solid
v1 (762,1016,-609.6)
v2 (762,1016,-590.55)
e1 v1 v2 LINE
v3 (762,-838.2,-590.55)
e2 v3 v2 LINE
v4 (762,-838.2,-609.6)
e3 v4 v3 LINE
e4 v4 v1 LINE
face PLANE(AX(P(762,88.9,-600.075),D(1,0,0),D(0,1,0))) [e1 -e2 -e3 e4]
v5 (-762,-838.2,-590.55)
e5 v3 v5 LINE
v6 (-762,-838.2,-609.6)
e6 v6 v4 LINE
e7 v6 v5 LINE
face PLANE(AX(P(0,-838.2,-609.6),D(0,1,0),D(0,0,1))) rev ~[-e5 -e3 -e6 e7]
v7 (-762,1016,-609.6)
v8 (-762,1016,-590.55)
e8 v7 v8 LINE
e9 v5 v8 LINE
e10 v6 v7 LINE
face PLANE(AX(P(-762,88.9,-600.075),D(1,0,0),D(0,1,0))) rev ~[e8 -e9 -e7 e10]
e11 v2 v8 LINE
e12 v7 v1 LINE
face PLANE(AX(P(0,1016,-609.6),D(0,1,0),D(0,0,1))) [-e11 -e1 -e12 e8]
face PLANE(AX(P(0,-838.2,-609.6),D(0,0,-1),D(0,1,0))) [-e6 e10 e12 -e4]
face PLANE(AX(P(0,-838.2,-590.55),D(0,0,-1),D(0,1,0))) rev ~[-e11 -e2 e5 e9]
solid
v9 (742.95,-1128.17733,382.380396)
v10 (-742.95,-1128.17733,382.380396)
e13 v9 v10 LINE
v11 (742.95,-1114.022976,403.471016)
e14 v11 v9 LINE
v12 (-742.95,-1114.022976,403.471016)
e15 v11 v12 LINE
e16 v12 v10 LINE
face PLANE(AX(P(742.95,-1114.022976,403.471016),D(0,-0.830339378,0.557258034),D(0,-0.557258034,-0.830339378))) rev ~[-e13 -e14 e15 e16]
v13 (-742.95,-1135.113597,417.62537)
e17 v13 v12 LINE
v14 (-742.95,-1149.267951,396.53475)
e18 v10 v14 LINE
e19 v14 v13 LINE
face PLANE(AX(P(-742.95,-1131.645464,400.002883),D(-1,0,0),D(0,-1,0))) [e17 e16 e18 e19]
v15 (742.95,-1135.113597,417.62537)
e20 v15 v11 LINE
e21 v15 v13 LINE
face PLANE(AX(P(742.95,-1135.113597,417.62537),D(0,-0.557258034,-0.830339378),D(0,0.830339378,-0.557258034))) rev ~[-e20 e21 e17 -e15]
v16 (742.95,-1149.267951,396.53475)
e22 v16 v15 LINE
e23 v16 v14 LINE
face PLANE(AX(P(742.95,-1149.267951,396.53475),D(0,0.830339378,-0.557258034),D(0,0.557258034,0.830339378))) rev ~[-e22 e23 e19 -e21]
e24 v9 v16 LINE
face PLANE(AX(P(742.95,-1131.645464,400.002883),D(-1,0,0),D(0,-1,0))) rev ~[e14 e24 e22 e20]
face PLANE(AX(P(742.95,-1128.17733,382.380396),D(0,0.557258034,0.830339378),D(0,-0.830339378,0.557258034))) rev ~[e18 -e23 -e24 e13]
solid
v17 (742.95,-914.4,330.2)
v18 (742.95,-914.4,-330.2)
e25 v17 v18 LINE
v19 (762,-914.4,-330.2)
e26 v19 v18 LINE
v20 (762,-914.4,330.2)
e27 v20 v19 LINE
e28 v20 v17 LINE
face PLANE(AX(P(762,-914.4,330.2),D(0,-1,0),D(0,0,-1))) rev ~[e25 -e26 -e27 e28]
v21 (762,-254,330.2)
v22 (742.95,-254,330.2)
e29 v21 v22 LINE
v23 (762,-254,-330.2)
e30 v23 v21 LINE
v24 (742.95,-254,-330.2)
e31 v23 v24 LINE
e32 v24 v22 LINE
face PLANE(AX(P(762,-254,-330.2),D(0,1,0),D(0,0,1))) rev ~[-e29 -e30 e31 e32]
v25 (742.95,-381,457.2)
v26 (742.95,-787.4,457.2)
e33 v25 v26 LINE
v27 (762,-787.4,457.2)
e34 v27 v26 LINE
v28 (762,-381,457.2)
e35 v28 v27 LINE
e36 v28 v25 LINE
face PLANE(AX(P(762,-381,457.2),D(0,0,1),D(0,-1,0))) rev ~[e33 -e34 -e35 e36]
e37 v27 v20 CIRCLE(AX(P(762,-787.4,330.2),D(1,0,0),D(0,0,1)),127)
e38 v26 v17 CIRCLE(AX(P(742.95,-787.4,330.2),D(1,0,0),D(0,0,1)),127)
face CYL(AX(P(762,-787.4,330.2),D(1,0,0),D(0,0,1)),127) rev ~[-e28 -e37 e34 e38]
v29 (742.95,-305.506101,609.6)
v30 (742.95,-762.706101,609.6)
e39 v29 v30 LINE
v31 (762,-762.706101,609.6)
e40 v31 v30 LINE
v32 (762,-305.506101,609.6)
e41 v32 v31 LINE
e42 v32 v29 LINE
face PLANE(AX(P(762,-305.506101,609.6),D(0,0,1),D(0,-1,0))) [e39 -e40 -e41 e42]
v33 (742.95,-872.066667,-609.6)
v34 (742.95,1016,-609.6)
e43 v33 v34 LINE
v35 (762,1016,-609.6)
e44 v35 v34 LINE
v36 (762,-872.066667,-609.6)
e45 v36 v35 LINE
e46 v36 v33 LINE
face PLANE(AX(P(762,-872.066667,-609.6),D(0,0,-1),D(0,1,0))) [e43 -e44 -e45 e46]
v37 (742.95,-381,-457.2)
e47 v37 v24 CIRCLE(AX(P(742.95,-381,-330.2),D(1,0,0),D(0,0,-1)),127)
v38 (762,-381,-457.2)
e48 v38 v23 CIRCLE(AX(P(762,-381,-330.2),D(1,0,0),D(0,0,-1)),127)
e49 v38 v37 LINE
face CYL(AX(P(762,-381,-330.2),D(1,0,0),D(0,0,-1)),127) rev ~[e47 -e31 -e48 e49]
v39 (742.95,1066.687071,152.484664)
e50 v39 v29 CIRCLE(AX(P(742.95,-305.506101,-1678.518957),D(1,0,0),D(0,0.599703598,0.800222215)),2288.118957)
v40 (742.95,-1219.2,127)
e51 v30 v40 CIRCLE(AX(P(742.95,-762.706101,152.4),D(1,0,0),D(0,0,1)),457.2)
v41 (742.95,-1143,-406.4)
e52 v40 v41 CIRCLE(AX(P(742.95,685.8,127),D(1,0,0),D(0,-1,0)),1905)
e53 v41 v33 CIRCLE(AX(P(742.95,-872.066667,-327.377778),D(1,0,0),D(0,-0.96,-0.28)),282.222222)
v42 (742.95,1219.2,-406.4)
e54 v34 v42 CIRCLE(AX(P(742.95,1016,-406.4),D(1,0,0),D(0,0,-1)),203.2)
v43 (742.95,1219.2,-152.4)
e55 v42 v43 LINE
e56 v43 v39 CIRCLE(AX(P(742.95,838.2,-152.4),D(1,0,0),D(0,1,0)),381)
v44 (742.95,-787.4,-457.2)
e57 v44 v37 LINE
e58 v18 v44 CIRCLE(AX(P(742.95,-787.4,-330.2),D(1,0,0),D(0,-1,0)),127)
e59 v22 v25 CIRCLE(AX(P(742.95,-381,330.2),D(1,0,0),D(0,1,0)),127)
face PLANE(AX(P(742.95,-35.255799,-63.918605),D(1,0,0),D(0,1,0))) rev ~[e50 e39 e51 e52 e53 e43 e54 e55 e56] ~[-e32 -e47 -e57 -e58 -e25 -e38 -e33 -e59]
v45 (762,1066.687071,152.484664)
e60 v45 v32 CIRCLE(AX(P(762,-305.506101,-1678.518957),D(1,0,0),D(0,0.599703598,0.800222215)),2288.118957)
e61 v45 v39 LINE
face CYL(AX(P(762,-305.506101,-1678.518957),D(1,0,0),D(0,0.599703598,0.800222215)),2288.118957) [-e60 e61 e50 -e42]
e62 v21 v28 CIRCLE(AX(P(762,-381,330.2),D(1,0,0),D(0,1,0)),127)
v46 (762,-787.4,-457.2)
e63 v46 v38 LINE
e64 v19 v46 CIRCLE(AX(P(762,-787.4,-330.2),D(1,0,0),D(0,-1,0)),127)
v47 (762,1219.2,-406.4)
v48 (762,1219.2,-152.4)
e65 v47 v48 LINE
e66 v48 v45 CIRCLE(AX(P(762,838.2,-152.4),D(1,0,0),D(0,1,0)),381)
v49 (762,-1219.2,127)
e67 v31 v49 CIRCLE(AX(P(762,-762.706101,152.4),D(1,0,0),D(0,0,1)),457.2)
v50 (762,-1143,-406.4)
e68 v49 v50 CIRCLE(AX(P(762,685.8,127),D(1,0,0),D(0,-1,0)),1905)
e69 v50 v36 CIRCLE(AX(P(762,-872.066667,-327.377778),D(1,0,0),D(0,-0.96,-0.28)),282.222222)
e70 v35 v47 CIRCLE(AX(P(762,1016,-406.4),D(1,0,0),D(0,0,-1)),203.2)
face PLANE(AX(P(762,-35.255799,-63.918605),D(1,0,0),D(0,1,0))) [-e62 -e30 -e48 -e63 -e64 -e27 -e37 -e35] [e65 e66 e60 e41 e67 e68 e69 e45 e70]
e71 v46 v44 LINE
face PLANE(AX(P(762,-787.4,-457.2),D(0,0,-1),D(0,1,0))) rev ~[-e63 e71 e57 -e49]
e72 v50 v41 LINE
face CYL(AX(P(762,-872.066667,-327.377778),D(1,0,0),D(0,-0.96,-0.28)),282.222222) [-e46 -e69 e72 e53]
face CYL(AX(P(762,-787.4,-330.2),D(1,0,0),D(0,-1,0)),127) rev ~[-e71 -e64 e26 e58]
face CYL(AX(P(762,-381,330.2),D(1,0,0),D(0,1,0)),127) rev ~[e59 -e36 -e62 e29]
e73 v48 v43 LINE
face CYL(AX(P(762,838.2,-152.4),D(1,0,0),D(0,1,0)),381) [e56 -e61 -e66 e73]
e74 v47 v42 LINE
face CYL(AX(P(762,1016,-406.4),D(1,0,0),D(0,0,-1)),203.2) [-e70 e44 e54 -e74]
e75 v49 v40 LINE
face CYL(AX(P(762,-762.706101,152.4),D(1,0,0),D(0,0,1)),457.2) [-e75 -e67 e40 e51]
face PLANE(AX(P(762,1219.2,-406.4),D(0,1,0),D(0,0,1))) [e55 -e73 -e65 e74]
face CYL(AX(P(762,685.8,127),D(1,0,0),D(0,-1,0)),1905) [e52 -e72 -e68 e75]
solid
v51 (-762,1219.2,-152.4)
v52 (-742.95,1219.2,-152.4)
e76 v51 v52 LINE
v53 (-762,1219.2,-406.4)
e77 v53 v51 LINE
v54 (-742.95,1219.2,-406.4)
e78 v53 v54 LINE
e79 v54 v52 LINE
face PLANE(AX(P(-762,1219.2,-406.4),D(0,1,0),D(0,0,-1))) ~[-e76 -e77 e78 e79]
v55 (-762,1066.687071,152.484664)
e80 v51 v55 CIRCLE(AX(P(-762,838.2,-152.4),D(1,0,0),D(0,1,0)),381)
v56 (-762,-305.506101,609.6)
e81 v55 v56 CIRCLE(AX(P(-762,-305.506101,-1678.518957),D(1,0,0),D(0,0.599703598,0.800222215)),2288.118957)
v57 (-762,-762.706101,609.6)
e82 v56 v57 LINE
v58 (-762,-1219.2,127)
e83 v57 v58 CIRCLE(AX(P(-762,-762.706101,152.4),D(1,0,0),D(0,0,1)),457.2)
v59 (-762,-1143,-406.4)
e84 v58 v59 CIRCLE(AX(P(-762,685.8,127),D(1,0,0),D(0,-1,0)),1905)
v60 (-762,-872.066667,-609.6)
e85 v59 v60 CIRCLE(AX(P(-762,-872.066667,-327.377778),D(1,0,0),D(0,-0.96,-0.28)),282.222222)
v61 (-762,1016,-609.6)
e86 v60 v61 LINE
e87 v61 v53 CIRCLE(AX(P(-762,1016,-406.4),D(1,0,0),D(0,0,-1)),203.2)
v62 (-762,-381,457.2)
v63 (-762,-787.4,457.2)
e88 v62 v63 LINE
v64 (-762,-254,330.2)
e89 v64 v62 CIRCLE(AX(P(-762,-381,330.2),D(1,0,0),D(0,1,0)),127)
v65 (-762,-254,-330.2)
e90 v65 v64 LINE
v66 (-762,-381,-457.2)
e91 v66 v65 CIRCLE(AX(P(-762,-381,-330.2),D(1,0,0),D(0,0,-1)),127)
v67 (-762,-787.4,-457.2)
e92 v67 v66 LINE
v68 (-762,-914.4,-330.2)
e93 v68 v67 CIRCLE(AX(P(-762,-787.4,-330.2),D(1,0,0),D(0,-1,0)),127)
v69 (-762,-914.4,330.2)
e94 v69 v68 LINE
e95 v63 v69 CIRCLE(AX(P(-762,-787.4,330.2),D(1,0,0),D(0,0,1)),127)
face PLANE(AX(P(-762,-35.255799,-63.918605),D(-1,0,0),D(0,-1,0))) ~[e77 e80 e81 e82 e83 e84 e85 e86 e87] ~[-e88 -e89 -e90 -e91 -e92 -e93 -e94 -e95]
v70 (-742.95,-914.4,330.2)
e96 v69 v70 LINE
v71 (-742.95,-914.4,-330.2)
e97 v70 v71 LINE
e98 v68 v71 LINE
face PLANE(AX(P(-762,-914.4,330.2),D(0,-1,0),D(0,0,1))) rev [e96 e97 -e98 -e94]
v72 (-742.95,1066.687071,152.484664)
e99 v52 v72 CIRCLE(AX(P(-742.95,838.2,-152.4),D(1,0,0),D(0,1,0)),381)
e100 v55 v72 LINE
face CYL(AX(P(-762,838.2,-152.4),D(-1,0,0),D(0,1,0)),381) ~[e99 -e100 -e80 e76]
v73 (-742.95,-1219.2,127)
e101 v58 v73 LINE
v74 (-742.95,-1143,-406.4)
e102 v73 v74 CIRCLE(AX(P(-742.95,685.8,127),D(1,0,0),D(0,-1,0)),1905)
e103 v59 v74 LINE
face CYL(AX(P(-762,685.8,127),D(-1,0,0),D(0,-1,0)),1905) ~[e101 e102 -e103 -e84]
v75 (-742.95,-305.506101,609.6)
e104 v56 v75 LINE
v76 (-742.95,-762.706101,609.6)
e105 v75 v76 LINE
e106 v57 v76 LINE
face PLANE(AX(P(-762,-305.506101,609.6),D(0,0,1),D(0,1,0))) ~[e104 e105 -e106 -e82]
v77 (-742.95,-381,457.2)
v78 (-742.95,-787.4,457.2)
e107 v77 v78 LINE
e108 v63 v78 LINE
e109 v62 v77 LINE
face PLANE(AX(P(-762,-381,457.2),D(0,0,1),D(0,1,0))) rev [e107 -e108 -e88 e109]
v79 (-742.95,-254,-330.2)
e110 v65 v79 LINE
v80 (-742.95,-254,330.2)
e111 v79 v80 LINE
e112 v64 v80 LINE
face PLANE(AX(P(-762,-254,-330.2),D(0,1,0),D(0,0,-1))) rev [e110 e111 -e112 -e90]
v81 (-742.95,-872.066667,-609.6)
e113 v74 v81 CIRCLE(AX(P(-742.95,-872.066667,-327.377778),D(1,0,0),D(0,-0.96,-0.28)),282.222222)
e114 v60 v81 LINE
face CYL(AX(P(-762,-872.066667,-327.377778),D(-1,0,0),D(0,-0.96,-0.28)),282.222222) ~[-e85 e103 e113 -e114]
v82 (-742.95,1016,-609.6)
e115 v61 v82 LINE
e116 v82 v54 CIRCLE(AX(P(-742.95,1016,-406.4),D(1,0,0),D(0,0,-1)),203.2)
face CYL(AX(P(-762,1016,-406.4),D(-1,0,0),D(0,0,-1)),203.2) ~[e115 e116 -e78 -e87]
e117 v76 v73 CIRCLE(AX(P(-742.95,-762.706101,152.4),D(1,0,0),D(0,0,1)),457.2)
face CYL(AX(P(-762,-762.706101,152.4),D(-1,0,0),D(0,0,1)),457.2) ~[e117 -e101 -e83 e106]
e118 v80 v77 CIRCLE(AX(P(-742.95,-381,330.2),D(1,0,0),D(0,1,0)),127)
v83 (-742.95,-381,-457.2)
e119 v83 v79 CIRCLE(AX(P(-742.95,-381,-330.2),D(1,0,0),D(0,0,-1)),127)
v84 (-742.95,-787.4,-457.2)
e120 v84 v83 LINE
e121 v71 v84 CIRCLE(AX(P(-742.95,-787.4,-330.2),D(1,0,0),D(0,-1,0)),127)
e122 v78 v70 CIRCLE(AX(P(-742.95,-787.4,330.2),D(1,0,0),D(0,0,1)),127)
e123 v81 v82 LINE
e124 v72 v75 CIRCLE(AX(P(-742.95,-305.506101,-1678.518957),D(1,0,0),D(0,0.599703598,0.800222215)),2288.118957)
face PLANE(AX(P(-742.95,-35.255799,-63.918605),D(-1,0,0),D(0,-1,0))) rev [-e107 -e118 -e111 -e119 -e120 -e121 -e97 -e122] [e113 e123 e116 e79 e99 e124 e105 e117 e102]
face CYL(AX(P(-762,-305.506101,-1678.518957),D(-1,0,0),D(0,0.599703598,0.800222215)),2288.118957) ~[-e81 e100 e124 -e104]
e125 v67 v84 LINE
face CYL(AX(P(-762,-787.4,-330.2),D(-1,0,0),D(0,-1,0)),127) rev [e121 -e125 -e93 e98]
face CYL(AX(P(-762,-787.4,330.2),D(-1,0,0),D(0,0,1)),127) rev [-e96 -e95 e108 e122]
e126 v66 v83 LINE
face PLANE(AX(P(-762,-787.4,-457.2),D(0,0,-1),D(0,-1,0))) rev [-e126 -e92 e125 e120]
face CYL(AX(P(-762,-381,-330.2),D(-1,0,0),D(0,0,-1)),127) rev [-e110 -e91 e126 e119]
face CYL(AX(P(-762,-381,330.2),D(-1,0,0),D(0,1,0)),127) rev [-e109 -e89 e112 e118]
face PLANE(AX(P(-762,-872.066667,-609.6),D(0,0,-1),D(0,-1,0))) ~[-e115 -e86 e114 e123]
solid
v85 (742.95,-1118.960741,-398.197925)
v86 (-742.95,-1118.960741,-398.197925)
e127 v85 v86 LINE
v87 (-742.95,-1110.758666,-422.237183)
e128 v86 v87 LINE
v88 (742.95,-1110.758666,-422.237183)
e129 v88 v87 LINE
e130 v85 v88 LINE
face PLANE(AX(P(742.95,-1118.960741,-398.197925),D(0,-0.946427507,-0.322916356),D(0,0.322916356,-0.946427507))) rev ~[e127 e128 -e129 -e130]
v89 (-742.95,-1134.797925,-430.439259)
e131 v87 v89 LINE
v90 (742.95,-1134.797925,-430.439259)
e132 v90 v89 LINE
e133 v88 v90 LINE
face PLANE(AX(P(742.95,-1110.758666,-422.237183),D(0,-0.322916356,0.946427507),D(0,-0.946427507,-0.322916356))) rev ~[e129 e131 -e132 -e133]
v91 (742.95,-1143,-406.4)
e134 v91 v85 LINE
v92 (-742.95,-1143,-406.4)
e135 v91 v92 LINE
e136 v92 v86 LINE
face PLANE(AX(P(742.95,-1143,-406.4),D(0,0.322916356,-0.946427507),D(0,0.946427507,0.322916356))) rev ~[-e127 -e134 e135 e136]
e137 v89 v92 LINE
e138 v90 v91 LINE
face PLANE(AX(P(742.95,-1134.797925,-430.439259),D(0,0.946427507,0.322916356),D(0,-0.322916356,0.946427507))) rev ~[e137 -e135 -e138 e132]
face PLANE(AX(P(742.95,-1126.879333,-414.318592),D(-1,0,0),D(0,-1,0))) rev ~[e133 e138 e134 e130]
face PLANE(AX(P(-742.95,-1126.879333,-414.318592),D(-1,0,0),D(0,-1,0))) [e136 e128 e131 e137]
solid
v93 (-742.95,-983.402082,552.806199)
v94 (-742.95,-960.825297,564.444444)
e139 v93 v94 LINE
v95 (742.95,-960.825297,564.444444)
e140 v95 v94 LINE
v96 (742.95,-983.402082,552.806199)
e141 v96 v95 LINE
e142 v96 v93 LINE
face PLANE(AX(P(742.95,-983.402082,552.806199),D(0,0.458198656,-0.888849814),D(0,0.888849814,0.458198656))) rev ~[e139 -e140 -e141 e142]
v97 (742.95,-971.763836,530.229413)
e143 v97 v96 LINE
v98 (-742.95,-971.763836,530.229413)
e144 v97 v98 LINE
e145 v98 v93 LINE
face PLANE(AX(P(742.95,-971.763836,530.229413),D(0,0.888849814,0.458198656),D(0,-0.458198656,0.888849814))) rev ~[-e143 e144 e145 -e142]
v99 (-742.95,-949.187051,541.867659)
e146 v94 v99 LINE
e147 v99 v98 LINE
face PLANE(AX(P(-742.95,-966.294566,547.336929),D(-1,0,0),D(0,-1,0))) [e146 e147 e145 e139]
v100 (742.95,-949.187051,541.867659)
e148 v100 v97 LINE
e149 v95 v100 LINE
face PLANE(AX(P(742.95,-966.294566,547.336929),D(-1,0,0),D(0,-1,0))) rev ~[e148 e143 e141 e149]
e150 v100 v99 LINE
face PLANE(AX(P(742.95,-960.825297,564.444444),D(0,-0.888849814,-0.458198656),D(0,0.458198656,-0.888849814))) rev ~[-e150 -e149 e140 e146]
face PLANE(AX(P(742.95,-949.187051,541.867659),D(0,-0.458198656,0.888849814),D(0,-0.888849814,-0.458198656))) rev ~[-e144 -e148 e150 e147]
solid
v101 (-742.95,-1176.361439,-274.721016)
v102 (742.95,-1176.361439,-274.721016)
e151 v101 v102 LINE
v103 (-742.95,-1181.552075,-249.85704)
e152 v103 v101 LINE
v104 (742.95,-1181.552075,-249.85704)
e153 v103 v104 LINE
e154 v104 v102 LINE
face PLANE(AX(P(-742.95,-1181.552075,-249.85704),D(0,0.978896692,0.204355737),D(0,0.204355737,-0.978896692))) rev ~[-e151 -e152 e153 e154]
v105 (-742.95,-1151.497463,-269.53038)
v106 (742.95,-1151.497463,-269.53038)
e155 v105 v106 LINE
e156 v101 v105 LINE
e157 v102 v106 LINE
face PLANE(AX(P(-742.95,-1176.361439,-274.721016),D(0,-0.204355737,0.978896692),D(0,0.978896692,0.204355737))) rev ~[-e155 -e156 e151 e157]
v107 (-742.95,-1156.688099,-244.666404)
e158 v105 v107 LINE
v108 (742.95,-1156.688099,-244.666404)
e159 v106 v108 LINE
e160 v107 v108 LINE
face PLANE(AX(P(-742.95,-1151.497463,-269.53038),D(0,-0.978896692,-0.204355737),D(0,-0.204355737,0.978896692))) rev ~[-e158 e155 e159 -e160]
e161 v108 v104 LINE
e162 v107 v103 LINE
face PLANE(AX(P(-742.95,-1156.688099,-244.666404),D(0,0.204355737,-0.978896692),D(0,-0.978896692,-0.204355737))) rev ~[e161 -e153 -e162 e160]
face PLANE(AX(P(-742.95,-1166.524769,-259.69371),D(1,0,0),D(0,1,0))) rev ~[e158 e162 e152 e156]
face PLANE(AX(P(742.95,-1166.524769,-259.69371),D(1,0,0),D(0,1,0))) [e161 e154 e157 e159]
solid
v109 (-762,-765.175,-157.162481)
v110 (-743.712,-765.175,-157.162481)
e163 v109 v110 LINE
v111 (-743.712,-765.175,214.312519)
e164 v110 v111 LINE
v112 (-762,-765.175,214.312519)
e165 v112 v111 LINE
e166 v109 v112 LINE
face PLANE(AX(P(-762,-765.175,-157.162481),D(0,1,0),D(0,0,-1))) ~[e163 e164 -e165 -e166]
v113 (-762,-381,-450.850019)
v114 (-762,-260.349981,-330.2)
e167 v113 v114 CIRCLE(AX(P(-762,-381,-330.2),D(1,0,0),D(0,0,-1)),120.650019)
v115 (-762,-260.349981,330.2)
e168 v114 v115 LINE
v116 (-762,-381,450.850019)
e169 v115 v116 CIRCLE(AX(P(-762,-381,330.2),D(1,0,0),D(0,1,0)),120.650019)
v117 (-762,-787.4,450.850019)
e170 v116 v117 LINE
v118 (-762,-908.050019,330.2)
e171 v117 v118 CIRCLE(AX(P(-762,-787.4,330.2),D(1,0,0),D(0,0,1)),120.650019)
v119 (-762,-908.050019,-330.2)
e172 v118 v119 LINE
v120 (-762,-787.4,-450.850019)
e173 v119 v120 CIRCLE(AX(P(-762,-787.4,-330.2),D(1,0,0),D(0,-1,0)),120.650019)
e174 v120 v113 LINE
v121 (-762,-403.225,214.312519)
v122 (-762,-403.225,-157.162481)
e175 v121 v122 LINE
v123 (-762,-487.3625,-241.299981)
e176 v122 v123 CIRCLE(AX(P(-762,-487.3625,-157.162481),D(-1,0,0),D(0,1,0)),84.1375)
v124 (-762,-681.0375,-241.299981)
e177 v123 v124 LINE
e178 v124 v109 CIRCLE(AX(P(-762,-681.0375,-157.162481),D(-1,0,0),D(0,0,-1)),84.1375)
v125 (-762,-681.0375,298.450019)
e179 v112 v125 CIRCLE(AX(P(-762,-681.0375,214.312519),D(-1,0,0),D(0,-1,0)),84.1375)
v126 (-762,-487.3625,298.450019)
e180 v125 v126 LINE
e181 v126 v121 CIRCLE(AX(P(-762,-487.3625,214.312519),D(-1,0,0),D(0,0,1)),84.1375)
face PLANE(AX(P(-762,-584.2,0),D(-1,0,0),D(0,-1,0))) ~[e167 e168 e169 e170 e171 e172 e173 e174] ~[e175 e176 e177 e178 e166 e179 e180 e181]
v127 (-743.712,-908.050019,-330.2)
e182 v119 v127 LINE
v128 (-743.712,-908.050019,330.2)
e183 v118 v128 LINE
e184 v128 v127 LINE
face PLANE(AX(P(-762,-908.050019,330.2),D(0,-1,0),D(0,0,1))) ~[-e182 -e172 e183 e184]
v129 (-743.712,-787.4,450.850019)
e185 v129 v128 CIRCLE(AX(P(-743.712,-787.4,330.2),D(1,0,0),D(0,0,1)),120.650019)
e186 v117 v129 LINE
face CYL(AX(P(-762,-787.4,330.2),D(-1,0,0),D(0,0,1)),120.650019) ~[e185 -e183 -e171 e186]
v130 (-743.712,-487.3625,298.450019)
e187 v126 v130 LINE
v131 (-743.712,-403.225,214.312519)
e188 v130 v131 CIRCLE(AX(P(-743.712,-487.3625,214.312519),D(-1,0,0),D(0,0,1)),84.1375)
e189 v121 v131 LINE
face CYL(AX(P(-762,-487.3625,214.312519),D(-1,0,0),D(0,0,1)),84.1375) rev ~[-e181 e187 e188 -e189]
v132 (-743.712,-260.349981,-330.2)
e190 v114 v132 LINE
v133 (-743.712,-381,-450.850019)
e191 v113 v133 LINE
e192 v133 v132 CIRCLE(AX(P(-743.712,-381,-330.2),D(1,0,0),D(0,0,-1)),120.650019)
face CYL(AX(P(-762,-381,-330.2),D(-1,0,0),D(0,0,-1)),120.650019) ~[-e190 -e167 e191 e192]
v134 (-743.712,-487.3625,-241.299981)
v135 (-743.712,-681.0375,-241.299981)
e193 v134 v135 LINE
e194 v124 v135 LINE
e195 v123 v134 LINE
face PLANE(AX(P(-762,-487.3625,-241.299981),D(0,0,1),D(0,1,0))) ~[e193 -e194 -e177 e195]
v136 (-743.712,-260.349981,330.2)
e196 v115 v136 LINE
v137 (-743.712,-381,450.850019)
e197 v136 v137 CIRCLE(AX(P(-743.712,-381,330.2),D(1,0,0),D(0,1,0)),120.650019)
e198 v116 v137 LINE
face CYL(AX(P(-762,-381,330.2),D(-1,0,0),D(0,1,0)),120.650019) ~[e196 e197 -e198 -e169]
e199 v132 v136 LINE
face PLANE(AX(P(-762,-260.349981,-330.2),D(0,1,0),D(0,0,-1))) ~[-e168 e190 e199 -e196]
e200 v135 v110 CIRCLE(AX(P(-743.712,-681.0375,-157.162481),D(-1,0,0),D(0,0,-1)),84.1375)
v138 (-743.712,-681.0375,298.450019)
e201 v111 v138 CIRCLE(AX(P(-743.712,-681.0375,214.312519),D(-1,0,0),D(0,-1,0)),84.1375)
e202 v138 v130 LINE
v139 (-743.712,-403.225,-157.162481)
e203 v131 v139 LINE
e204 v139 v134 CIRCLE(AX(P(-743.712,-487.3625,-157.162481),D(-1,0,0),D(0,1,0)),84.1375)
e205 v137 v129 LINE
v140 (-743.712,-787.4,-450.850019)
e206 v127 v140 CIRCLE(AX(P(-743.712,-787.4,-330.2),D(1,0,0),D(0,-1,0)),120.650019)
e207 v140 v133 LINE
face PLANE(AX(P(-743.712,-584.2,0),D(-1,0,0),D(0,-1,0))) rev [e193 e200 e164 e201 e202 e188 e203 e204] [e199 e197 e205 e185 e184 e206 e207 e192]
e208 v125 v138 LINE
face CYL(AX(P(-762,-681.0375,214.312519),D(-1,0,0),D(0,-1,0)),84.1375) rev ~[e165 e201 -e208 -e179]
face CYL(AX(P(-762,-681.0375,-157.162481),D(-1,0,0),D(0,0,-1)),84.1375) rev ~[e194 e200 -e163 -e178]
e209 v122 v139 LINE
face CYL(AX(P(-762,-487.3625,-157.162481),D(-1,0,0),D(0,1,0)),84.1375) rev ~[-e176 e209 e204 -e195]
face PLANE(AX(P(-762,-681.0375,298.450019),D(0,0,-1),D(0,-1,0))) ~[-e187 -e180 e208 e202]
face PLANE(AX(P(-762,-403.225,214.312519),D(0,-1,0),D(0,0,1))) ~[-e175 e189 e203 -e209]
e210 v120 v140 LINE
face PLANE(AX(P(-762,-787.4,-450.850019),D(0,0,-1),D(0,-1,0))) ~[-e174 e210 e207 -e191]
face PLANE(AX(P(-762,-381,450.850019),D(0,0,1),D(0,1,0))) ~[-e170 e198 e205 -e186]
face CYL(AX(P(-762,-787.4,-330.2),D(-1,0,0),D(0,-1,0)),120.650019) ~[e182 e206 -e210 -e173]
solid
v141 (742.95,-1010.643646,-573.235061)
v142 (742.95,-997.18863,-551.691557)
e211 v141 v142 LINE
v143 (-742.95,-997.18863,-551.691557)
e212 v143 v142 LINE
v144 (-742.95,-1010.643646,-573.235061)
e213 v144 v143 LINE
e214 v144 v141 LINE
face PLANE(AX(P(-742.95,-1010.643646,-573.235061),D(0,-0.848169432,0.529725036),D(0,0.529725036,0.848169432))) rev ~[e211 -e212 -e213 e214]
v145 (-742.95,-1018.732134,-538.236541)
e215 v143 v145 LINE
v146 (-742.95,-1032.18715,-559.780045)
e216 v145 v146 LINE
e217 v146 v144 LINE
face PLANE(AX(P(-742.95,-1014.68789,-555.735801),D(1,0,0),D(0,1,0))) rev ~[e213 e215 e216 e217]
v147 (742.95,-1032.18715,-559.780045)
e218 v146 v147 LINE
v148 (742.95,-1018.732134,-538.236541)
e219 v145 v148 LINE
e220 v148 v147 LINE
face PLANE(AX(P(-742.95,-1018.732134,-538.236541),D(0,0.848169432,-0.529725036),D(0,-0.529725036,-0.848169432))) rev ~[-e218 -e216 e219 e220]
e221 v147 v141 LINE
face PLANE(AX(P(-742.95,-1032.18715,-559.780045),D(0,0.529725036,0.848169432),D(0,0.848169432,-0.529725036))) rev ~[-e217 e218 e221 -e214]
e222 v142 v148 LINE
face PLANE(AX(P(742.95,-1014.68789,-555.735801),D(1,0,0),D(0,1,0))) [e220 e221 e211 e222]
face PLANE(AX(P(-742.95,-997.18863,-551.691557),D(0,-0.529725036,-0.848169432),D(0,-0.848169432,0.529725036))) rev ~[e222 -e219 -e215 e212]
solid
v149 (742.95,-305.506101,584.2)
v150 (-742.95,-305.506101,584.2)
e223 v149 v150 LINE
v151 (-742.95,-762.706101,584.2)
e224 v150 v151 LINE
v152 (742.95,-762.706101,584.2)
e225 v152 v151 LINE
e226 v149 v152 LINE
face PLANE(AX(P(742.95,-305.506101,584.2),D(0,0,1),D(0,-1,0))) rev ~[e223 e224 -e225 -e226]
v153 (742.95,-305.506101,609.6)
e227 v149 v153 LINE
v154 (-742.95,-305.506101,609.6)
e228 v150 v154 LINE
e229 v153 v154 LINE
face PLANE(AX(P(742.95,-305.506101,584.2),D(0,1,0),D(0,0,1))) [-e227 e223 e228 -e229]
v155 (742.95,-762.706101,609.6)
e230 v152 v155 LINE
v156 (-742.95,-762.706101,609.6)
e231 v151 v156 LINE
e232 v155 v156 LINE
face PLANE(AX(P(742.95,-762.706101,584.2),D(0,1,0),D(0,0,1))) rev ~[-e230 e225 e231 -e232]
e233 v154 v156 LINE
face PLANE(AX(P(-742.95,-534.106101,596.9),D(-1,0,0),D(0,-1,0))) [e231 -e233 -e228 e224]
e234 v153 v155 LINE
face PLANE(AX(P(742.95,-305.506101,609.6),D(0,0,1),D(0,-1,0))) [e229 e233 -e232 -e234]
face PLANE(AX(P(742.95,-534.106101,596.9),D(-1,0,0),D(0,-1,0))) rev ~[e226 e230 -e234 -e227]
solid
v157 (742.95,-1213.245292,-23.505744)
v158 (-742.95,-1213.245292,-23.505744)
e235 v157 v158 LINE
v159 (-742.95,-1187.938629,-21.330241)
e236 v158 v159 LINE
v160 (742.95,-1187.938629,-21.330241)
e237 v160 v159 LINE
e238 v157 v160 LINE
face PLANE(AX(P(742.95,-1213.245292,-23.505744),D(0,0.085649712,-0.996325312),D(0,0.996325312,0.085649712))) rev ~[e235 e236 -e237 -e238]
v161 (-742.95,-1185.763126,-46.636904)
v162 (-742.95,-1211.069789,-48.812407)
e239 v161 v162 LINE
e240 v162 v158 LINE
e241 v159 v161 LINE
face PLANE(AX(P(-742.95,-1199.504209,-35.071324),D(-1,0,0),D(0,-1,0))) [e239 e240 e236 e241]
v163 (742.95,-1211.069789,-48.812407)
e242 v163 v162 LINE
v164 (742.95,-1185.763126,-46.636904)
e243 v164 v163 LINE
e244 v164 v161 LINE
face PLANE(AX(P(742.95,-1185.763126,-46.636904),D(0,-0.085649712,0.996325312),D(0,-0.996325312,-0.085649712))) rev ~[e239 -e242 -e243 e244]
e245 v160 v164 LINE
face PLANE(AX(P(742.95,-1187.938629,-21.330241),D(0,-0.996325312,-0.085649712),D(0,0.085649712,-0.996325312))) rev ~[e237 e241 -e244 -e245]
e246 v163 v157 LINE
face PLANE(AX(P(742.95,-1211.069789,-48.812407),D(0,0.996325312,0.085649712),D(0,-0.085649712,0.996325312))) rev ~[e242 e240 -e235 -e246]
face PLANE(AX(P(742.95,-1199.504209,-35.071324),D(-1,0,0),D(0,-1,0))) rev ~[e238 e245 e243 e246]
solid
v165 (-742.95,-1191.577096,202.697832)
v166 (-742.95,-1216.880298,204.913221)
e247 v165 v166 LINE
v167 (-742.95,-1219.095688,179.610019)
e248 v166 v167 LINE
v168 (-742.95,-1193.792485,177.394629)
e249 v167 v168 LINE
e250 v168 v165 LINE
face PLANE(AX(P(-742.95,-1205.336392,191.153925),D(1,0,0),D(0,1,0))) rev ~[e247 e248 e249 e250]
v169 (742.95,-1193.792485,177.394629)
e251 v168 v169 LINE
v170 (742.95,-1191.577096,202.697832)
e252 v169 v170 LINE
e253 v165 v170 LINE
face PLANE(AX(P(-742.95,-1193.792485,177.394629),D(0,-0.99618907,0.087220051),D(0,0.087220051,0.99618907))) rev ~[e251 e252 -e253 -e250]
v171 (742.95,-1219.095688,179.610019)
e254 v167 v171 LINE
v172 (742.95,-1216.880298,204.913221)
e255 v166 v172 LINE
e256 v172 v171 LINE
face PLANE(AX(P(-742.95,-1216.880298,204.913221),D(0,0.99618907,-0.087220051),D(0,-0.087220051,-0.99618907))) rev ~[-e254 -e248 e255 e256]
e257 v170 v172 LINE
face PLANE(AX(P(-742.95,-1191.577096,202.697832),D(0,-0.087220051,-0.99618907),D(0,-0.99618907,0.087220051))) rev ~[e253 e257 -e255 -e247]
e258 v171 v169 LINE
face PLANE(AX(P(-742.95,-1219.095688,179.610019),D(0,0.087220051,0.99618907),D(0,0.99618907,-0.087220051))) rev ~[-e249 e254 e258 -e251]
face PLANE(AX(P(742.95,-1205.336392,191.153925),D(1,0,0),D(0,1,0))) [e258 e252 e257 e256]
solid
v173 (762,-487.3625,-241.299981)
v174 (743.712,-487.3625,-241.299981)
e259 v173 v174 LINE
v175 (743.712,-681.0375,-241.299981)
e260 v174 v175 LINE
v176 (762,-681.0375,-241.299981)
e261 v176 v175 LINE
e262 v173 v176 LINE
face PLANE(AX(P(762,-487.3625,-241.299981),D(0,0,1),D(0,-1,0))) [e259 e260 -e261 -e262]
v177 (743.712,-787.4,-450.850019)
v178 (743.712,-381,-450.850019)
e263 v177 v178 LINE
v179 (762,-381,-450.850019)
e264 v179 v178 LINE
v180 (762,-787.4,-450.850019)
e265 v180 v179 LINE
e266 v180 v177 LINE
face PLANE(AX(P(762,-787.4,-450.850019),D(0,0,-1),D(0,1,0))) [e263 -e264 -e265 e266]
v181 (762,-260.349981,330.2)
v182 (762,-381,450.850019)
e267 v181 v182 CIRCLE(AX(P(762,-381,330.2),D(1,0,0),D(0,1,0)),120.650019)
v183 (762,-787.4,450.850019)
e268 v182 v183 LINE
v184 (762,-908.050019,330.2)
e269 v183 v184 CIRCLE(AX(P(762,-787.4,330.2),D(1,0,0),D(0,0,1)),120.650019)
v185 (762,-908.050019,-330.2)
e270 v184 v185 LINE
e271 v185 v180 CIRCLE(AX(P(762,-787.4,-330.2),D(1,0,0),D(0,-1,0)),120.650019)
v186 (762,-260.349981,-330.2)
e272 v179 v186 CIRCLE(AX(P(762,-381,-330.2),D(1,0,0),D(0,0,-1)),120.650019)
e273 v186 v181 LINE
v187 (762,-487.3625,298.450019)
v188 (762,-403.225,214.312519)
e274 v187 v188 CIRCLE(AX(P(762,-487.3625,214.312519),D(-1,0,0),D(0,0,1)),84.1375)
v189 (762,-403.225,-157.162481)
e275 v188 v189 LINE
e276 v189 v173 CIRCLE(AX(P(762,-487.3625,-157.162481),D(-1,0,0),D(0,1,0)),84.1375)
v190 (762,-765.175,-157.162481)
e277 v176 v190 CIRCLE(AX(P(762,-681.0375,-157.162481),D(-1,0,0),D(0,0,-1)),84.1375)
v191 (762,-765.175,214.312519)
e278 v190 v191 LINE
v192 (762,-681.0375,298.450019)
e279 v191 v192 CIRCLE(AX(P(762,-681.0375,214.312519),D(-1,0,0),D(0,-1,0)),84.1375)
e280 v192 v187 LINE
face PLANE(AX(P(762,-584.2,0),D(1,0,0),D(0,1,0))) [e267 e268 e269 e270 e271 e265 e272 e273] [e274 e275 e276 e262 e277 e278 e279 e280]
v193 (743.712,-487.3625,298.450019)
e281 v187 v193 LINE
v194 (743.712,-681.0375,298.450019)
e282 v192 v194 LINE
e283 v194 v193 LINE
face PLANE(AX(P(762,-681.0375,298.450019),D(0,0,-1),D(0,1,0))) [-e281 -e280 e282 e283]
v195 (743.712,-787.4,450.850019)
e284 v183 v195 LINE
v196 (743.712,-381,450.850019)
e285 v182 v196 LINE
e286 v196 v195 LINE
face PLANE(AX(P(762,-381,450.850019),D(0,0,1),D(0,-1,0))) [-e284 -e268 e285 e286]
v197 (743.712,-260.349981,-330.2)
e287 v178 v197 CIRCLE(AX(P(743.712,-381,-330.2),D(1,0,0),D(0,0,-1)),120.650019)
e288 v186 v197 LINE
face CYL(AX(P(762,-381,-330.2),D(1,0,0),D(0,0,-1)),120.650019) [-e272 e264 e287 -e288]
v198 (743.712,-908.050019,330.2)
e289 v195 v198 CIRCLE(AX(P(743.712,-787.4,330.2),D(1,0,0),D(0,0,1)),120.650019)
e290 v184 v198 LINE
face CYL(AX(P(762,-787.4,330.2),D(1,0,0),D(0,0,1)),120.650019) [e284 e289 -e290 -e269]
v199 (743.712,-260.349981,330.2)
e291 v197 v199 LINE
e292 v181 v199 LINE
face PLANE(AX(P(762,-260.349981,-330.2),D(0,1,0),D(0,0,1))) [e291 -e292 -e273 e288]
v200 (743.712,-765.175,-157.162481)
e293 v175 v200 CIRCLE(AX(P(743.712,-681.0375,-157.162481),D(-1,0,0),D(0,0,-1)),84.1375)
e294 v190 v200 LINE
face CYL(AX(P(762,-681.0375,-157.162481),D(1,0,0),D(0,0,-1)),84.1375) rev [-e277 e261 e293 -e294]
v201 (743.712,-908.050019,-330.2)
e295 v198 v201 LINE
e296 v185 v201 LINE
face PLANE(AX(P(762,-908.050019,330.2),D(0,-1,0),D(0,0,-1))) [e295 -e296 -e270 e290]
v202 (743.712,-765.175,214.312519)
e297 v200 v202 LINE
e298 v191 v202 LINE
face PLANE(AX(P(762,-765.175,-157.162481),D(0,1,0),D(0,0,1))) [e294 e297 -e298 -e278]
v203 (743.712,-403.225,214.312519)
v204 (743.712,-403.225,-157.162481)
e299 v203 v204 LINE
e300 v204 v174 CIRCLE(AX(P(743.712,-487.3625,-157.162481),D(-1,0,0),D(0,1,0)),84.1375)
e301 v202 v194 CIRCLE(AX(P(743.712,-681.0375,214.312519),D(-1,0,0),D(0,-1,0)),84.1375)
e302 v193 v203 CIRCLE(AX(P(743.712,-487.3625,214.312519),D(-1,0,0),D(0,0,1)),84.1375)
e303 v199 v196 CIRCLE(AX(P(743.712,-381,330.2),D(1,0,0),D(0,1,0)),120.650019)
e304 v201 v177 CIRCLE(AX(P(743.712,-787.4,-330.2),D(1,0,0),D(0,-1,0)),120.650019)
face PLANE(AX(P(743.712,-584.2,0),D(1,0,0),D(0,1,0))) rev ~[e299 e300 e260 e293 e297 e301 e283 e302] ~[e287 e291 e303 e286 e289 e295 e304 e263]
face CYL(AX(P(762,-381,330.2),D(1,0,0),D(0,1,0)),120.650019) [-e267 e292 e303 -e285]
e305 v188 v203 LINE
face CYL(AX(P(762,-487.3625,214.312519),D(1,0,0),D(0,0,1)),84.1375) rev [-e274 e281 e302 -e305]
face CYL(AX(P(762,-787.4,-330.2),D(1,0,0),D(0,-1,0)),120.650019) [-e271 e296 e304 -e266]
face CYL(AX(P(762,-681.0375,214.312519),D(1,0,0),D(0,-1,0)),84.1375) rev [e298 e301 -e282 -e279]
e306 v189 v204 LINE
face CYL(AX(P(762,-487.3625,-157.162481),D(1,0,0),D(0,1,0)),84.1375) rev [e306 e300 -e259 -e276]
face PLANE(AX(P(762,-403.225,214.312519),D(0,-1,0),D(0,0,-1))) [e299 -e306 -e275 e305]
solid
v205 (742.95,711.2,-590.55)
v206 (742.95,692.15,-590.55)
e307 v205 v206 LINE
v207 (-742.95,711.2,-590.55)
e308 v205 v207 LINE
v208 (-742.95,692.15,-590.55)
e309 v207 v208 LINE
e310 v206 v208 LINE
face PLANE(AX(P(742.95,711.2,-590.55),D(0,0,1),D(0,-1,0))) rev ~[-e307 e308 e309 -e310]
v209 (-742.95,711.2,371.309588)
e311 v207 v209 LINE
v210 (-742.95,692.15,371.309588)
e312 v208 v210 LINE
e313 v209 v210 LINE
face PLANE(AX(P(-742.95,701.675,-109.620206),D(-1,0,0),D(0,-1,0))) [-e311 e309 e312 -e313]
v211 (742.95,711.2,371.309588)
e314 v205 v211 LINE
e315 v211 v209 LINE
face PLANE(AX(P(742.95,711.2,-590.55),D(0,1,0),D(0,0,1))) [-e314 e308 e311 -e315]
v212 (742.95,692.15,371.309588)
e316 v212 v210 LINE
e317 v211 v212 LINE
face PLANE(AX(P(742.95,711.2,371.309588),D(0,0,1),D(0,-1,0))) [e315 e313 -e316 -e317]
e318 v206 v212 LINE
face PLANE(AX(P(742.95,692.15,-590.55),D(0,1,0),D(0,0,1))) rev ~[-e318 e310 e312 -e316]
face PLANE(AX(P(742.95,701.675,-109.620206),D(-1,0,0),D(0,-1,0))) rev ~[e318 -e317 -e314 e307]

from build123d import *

# Parameters (mm, degrees)
F3_DEPTH       = 19.05
F5_DEPTH       = 25.4
F7_DEPTH       = 18.288
F9_W           = 1854.2
F9_H           = 19.05
F10_DEPTH      = 762
F10_DEPTH_BACK = 762
F11_W          = 457.2
F11_H          = 25.4
F12_DEPTH      = 1485.9
F14_DEPTH      = 1485.9
F16_DEPTH      = 1485.9
F18_DEPTH      = 1485.9
F21_DEPTH      = 1485.9
F23_DEPTH      = 1485.9
F25_DEPTH      = 1485.9
F27_DEPTH      = 1485.9
F28_W          = 19.05
F28_H          = 961.8595884721
F29_DEPTH      = 1485.9


with BuildPart() as f3:
    # F2 (on offset) → F3 (new body)
    with BuildSketch(Plane.YZ.offset(762)):
        with BuildLine():
            Line((-872.0666666667, -609.6), (1016, -609.6))
            ThreePointArc((1016, -609.6), (1159.6840979371, -550.0840979371), (1219.2, -406.4))
            Line((1219.2, -406.4), (1219.2, -152.4))
            ThreePointArc((1219.2, -152.4), (1178.9451936847, 18.0514974437), (1066.687070967, 152.484664096))
            ThreePointArc((1066.687070967, 152.484664096), (417.658564221, 492.3152671112), (-305.5061008075, 609.6))
            Line((-305.5061008075, 609.6), (-762.7061008075, 609.6))
            ThreePointArc((-762.7061008075, 609.6), (-1094.8542003053, 466.5806486721), (-1219.2, 127))
            ThreePointArc((-1219.2, 127), (-1200.0537854245, -142.4076836321), (-1143, -406.4))
            ThreePointArc((-1143, -406.4), (-1041.4, -553.1555555556), (-872.0666666667, -609.6))
        make_face()
    extrude(amount=-F3_DEPTH)

    # F4 (on face) → F5 (cut)
    with BuildSketch(Plane.YZ.offset(762)):
        with BuildLine():
            Line((-381, 457.2), (-787.4, 457.2))
            ThreePointArc((-787.4, 457.2), (-877.2025612107, 420.0025612107), (-914.4, 330.2))
            Line((-914.4, 330.2), (-914.4, -330.2))
            ThreePointArc((-914.4, -330.2), (-877.2025612107, -420.0025612107), (-787.4, -457.2))
            Line((-787.4, -457.2), (-381, -457.2))
            ThreePointArc((-381, -457.2), (-291.1974387893, -420.0025612107), (-254, -330.2))
            Line((-254, -330.2), (-254, 330.2))
            ThreePointArc((-254, 330.2), (-291.1974387893, 420.0025612107), (-381, 457.2))
        make_face()
    extrude(amount=-F5_DEPTH, mode=Mode.SUBTRACT)


with BuildPart() as f7:
    # F6 (on face) → F7 (new body)
    with BuildSketch(Plane.YZ.offset(762)):
        with BuildLine():
            Line((-260.3499808311, -330.2), (-260.3499808311, 330.2))
            ThreePointArc((-260.3499808311, 330.2), (-295.6875532954, 415.5124467046), (-381, 450.8500191689))
            Line((-381, 450.8500191689), (-787.4, 450.8500191689))
            ThreePointArc((-787.4, 450.8500191689), (-872.7124467046, 415.5124467046), (-908.0500191689, 330.2))
            Line((-908.0500191689, 330.2), (-908.0500191689, -330.2))
            ThreePointArc((-908.0500191689, -330.2), (-872.7124467046, -415.5124467046), (-787.4, -450.8500191689))
            Line((-787.4, -450.8500191689), (-381, -450.8500191689))
            ThreePointArc((-381, -450.8500191689), (-295.6875532954, -415.5124467046), (-260.3499808311, -330.2))
        make_face()
        with BuildLine():
            ThreePointArc((-403.225, -157.1624808311), (-427.8683031979, -216.6566776332), (-487.3625, -241.2999808311))
            Line((-487.3625, -241.2999808311), (-681.0375, -241.2999808311))
            ThreePointArc((-681.0375, -241.2999808311), (-740.5316968021, -216.6566776332), (-765.175, -157.1624808311))
            Line((-765.175, -157.1624808311), (-765.175, 214.3125191689))
            ThreePointArc((-765.175, 214.3125191689), (-740.5316968021, 273.8067159709), (-681.0375, 298.4500191689))
            Line((-681.0375, 298.4500191689), (-487.3625, 298.4500191689))
            ThreePointArc((-487.3625, 298.4500191689), (-427.8683031979, 273.8067159709), (-403.225, 214.3125191689))
            Line((-403.225, 214.3125191689), (-403.225, -157.1624808311))
        make_face(mode=Mode.SUBTRACT)
    extrude(amount=-F7_DEPTH)


with BuildPart() as f8_1:
    # F8: instance of F7
    add(f7.part.mirror(Plane.YZ))


with BuildPart() as f8_2:
    # F8: instance of F3
    add(f3.part.mirror(Plane.YZ))


with BuildPart() as f10:
    # F9 (on Right) → F10 (new body, two sides)
    with BuildSketch(Plane.YZ) as f10_sk:
        with Locations((88.9, -600.075)):
            Rectangle(F9_W, F9_H)
    extrude(amount=F10_DEPTH)
    extrude(f10_sk.sketch, amount=-F10_DEPTH_BACK)


with BuildPart() as f12:
    # F11 (on face) → F12 (new body, through all)
    with BuildSketch(Plane(origin=(742.95, 0, 0), x_dir=(0, -1, 0), z_dir=(-1, 0, 0))):
        with Locations((534.1061008075, 596.9)):
            Rectangle(F11_W, F11_H)
    extrude(amount=F12_DEPTH)


with BuildPart() as f14:
    # F13 (on face) → F14 (new body, through all)
    with BuildSketch(Plane(origin=(742.95, 0, 0), x_dir=(0, -1, 0), z_dir=(-1, 0, 0))):
        Polygon((971.7638361801, 530.2294133145), (983.402082032, 552.8061985926), (960.8252967539, 564.4444444444), (949.187050902, 541.8676591664), align=None)
    extrude(amount=F14_DEPTH)


with BuildPart() as f16:
    # F15 (on face) → F16 (new body, through all)
    with BuildSketch(Plane(origin=(742.95, 0, 0), x_dir=(0, -1, 0), z_dir=(-1, 0, 0))):
        Polygon((1149.2679507058, 396.5347500934), (1135.113596634, 417.6253703027), (1114.0229764248, 403.4710162309), (1128.1773304966, 382.3803960216), align=None)
    extrude(amount=F16_DEPTH)


with BuildPart() as f18:
    # F17 (on face) → F18 (new body, through all)
    with BuildSketch(Plane.YZ.offset(-742.95)):
        Polygon((-1216.8802982613, 204.9132208801), (-1219.0956875563, 179.6100185082), (-1193.7924851845, 177.3946292132), (-1191.5770958894, 202.697831585), align=None)
    extrude(amount=F18_DEPTH)


with BuildPart() as f21:
    # F20 (on face) → F21 (new body, through all)
    with BuildSketch(Plane(origin=(742.95, 0, 0), x_dir=(0, -1, 0), z_dir=(-1, 0, 0))):
        Polygon((1213.2452920093, -23.5057437357), (1187.9386290905, -21.3302410547), (1185.7631264095, -46.6369039735), (1211.0697893283, -48.8124066545), align=None)
    extrude(amount=F21_DEPTH)


with BuildPart() as f23:
    # F22 (on face) → F23 (new body, through all)
    with BuildSketch(Plane.YZ.offset(-742.95)):
        Polygon((-1156.6880989045, -244.6664041214), (-1181.5520748702, -249.8570398412), (-1176.3614391505, -274.7210158069), (-1151.4974631848, -269.5303800872), align=None)
    extrude(amount=F23_DEPTH)


with BuildPart() as f25:
    # F24 (on face) → F25 (new body, through all)
    with BuildSketch(Plane(origin=(742.95, 0, 0), x_dir=(0, -1, 0), z_dir=(-1, 0, 0))):
        Polygon((1143, -406.4), (1118.9607413114, -398.1979245492), (1110.7586658605, -422.2371832378), (1134.7979245492, -430.4392586886), align=None)
    extrude(amount=F25_DEPTH)


with BuildPart() as f27:
    # F26 (on face) → F27 (new body, through all)
    with BuildSketch(Plane.YZ.offset(-742.95)):
        Polygon((-1018.7321338238, -538.2365409985), (-1032.1871497474, -559.7800445784), (-1010.6436461675, -573.2350605019), (-997.1886302439, -551.691556922), align=None)
    extrude(amount=F27_DEPTH)


with BuildPart() as f29:
    # F28 (on face) → F29 (new body, through all)
    with BuildSketch(Plane(origin=(742.95, 0, 0), x_dir=(0, -1, 0), z_dir=(-1, 0, 0))):
        with Locations((-701.675, -109.6202057639)):
            Rectangle(F28_W, F28_H)
    extrude(amount=F29_DEPTH)


solid = Compound([f3.part, f7.part, f8_1.part, f8_2.part, f10.part, f12.part, f14.part, f16.part, f18.part, f21.part, f23.part, f25.part, f27.part, f29.part])
